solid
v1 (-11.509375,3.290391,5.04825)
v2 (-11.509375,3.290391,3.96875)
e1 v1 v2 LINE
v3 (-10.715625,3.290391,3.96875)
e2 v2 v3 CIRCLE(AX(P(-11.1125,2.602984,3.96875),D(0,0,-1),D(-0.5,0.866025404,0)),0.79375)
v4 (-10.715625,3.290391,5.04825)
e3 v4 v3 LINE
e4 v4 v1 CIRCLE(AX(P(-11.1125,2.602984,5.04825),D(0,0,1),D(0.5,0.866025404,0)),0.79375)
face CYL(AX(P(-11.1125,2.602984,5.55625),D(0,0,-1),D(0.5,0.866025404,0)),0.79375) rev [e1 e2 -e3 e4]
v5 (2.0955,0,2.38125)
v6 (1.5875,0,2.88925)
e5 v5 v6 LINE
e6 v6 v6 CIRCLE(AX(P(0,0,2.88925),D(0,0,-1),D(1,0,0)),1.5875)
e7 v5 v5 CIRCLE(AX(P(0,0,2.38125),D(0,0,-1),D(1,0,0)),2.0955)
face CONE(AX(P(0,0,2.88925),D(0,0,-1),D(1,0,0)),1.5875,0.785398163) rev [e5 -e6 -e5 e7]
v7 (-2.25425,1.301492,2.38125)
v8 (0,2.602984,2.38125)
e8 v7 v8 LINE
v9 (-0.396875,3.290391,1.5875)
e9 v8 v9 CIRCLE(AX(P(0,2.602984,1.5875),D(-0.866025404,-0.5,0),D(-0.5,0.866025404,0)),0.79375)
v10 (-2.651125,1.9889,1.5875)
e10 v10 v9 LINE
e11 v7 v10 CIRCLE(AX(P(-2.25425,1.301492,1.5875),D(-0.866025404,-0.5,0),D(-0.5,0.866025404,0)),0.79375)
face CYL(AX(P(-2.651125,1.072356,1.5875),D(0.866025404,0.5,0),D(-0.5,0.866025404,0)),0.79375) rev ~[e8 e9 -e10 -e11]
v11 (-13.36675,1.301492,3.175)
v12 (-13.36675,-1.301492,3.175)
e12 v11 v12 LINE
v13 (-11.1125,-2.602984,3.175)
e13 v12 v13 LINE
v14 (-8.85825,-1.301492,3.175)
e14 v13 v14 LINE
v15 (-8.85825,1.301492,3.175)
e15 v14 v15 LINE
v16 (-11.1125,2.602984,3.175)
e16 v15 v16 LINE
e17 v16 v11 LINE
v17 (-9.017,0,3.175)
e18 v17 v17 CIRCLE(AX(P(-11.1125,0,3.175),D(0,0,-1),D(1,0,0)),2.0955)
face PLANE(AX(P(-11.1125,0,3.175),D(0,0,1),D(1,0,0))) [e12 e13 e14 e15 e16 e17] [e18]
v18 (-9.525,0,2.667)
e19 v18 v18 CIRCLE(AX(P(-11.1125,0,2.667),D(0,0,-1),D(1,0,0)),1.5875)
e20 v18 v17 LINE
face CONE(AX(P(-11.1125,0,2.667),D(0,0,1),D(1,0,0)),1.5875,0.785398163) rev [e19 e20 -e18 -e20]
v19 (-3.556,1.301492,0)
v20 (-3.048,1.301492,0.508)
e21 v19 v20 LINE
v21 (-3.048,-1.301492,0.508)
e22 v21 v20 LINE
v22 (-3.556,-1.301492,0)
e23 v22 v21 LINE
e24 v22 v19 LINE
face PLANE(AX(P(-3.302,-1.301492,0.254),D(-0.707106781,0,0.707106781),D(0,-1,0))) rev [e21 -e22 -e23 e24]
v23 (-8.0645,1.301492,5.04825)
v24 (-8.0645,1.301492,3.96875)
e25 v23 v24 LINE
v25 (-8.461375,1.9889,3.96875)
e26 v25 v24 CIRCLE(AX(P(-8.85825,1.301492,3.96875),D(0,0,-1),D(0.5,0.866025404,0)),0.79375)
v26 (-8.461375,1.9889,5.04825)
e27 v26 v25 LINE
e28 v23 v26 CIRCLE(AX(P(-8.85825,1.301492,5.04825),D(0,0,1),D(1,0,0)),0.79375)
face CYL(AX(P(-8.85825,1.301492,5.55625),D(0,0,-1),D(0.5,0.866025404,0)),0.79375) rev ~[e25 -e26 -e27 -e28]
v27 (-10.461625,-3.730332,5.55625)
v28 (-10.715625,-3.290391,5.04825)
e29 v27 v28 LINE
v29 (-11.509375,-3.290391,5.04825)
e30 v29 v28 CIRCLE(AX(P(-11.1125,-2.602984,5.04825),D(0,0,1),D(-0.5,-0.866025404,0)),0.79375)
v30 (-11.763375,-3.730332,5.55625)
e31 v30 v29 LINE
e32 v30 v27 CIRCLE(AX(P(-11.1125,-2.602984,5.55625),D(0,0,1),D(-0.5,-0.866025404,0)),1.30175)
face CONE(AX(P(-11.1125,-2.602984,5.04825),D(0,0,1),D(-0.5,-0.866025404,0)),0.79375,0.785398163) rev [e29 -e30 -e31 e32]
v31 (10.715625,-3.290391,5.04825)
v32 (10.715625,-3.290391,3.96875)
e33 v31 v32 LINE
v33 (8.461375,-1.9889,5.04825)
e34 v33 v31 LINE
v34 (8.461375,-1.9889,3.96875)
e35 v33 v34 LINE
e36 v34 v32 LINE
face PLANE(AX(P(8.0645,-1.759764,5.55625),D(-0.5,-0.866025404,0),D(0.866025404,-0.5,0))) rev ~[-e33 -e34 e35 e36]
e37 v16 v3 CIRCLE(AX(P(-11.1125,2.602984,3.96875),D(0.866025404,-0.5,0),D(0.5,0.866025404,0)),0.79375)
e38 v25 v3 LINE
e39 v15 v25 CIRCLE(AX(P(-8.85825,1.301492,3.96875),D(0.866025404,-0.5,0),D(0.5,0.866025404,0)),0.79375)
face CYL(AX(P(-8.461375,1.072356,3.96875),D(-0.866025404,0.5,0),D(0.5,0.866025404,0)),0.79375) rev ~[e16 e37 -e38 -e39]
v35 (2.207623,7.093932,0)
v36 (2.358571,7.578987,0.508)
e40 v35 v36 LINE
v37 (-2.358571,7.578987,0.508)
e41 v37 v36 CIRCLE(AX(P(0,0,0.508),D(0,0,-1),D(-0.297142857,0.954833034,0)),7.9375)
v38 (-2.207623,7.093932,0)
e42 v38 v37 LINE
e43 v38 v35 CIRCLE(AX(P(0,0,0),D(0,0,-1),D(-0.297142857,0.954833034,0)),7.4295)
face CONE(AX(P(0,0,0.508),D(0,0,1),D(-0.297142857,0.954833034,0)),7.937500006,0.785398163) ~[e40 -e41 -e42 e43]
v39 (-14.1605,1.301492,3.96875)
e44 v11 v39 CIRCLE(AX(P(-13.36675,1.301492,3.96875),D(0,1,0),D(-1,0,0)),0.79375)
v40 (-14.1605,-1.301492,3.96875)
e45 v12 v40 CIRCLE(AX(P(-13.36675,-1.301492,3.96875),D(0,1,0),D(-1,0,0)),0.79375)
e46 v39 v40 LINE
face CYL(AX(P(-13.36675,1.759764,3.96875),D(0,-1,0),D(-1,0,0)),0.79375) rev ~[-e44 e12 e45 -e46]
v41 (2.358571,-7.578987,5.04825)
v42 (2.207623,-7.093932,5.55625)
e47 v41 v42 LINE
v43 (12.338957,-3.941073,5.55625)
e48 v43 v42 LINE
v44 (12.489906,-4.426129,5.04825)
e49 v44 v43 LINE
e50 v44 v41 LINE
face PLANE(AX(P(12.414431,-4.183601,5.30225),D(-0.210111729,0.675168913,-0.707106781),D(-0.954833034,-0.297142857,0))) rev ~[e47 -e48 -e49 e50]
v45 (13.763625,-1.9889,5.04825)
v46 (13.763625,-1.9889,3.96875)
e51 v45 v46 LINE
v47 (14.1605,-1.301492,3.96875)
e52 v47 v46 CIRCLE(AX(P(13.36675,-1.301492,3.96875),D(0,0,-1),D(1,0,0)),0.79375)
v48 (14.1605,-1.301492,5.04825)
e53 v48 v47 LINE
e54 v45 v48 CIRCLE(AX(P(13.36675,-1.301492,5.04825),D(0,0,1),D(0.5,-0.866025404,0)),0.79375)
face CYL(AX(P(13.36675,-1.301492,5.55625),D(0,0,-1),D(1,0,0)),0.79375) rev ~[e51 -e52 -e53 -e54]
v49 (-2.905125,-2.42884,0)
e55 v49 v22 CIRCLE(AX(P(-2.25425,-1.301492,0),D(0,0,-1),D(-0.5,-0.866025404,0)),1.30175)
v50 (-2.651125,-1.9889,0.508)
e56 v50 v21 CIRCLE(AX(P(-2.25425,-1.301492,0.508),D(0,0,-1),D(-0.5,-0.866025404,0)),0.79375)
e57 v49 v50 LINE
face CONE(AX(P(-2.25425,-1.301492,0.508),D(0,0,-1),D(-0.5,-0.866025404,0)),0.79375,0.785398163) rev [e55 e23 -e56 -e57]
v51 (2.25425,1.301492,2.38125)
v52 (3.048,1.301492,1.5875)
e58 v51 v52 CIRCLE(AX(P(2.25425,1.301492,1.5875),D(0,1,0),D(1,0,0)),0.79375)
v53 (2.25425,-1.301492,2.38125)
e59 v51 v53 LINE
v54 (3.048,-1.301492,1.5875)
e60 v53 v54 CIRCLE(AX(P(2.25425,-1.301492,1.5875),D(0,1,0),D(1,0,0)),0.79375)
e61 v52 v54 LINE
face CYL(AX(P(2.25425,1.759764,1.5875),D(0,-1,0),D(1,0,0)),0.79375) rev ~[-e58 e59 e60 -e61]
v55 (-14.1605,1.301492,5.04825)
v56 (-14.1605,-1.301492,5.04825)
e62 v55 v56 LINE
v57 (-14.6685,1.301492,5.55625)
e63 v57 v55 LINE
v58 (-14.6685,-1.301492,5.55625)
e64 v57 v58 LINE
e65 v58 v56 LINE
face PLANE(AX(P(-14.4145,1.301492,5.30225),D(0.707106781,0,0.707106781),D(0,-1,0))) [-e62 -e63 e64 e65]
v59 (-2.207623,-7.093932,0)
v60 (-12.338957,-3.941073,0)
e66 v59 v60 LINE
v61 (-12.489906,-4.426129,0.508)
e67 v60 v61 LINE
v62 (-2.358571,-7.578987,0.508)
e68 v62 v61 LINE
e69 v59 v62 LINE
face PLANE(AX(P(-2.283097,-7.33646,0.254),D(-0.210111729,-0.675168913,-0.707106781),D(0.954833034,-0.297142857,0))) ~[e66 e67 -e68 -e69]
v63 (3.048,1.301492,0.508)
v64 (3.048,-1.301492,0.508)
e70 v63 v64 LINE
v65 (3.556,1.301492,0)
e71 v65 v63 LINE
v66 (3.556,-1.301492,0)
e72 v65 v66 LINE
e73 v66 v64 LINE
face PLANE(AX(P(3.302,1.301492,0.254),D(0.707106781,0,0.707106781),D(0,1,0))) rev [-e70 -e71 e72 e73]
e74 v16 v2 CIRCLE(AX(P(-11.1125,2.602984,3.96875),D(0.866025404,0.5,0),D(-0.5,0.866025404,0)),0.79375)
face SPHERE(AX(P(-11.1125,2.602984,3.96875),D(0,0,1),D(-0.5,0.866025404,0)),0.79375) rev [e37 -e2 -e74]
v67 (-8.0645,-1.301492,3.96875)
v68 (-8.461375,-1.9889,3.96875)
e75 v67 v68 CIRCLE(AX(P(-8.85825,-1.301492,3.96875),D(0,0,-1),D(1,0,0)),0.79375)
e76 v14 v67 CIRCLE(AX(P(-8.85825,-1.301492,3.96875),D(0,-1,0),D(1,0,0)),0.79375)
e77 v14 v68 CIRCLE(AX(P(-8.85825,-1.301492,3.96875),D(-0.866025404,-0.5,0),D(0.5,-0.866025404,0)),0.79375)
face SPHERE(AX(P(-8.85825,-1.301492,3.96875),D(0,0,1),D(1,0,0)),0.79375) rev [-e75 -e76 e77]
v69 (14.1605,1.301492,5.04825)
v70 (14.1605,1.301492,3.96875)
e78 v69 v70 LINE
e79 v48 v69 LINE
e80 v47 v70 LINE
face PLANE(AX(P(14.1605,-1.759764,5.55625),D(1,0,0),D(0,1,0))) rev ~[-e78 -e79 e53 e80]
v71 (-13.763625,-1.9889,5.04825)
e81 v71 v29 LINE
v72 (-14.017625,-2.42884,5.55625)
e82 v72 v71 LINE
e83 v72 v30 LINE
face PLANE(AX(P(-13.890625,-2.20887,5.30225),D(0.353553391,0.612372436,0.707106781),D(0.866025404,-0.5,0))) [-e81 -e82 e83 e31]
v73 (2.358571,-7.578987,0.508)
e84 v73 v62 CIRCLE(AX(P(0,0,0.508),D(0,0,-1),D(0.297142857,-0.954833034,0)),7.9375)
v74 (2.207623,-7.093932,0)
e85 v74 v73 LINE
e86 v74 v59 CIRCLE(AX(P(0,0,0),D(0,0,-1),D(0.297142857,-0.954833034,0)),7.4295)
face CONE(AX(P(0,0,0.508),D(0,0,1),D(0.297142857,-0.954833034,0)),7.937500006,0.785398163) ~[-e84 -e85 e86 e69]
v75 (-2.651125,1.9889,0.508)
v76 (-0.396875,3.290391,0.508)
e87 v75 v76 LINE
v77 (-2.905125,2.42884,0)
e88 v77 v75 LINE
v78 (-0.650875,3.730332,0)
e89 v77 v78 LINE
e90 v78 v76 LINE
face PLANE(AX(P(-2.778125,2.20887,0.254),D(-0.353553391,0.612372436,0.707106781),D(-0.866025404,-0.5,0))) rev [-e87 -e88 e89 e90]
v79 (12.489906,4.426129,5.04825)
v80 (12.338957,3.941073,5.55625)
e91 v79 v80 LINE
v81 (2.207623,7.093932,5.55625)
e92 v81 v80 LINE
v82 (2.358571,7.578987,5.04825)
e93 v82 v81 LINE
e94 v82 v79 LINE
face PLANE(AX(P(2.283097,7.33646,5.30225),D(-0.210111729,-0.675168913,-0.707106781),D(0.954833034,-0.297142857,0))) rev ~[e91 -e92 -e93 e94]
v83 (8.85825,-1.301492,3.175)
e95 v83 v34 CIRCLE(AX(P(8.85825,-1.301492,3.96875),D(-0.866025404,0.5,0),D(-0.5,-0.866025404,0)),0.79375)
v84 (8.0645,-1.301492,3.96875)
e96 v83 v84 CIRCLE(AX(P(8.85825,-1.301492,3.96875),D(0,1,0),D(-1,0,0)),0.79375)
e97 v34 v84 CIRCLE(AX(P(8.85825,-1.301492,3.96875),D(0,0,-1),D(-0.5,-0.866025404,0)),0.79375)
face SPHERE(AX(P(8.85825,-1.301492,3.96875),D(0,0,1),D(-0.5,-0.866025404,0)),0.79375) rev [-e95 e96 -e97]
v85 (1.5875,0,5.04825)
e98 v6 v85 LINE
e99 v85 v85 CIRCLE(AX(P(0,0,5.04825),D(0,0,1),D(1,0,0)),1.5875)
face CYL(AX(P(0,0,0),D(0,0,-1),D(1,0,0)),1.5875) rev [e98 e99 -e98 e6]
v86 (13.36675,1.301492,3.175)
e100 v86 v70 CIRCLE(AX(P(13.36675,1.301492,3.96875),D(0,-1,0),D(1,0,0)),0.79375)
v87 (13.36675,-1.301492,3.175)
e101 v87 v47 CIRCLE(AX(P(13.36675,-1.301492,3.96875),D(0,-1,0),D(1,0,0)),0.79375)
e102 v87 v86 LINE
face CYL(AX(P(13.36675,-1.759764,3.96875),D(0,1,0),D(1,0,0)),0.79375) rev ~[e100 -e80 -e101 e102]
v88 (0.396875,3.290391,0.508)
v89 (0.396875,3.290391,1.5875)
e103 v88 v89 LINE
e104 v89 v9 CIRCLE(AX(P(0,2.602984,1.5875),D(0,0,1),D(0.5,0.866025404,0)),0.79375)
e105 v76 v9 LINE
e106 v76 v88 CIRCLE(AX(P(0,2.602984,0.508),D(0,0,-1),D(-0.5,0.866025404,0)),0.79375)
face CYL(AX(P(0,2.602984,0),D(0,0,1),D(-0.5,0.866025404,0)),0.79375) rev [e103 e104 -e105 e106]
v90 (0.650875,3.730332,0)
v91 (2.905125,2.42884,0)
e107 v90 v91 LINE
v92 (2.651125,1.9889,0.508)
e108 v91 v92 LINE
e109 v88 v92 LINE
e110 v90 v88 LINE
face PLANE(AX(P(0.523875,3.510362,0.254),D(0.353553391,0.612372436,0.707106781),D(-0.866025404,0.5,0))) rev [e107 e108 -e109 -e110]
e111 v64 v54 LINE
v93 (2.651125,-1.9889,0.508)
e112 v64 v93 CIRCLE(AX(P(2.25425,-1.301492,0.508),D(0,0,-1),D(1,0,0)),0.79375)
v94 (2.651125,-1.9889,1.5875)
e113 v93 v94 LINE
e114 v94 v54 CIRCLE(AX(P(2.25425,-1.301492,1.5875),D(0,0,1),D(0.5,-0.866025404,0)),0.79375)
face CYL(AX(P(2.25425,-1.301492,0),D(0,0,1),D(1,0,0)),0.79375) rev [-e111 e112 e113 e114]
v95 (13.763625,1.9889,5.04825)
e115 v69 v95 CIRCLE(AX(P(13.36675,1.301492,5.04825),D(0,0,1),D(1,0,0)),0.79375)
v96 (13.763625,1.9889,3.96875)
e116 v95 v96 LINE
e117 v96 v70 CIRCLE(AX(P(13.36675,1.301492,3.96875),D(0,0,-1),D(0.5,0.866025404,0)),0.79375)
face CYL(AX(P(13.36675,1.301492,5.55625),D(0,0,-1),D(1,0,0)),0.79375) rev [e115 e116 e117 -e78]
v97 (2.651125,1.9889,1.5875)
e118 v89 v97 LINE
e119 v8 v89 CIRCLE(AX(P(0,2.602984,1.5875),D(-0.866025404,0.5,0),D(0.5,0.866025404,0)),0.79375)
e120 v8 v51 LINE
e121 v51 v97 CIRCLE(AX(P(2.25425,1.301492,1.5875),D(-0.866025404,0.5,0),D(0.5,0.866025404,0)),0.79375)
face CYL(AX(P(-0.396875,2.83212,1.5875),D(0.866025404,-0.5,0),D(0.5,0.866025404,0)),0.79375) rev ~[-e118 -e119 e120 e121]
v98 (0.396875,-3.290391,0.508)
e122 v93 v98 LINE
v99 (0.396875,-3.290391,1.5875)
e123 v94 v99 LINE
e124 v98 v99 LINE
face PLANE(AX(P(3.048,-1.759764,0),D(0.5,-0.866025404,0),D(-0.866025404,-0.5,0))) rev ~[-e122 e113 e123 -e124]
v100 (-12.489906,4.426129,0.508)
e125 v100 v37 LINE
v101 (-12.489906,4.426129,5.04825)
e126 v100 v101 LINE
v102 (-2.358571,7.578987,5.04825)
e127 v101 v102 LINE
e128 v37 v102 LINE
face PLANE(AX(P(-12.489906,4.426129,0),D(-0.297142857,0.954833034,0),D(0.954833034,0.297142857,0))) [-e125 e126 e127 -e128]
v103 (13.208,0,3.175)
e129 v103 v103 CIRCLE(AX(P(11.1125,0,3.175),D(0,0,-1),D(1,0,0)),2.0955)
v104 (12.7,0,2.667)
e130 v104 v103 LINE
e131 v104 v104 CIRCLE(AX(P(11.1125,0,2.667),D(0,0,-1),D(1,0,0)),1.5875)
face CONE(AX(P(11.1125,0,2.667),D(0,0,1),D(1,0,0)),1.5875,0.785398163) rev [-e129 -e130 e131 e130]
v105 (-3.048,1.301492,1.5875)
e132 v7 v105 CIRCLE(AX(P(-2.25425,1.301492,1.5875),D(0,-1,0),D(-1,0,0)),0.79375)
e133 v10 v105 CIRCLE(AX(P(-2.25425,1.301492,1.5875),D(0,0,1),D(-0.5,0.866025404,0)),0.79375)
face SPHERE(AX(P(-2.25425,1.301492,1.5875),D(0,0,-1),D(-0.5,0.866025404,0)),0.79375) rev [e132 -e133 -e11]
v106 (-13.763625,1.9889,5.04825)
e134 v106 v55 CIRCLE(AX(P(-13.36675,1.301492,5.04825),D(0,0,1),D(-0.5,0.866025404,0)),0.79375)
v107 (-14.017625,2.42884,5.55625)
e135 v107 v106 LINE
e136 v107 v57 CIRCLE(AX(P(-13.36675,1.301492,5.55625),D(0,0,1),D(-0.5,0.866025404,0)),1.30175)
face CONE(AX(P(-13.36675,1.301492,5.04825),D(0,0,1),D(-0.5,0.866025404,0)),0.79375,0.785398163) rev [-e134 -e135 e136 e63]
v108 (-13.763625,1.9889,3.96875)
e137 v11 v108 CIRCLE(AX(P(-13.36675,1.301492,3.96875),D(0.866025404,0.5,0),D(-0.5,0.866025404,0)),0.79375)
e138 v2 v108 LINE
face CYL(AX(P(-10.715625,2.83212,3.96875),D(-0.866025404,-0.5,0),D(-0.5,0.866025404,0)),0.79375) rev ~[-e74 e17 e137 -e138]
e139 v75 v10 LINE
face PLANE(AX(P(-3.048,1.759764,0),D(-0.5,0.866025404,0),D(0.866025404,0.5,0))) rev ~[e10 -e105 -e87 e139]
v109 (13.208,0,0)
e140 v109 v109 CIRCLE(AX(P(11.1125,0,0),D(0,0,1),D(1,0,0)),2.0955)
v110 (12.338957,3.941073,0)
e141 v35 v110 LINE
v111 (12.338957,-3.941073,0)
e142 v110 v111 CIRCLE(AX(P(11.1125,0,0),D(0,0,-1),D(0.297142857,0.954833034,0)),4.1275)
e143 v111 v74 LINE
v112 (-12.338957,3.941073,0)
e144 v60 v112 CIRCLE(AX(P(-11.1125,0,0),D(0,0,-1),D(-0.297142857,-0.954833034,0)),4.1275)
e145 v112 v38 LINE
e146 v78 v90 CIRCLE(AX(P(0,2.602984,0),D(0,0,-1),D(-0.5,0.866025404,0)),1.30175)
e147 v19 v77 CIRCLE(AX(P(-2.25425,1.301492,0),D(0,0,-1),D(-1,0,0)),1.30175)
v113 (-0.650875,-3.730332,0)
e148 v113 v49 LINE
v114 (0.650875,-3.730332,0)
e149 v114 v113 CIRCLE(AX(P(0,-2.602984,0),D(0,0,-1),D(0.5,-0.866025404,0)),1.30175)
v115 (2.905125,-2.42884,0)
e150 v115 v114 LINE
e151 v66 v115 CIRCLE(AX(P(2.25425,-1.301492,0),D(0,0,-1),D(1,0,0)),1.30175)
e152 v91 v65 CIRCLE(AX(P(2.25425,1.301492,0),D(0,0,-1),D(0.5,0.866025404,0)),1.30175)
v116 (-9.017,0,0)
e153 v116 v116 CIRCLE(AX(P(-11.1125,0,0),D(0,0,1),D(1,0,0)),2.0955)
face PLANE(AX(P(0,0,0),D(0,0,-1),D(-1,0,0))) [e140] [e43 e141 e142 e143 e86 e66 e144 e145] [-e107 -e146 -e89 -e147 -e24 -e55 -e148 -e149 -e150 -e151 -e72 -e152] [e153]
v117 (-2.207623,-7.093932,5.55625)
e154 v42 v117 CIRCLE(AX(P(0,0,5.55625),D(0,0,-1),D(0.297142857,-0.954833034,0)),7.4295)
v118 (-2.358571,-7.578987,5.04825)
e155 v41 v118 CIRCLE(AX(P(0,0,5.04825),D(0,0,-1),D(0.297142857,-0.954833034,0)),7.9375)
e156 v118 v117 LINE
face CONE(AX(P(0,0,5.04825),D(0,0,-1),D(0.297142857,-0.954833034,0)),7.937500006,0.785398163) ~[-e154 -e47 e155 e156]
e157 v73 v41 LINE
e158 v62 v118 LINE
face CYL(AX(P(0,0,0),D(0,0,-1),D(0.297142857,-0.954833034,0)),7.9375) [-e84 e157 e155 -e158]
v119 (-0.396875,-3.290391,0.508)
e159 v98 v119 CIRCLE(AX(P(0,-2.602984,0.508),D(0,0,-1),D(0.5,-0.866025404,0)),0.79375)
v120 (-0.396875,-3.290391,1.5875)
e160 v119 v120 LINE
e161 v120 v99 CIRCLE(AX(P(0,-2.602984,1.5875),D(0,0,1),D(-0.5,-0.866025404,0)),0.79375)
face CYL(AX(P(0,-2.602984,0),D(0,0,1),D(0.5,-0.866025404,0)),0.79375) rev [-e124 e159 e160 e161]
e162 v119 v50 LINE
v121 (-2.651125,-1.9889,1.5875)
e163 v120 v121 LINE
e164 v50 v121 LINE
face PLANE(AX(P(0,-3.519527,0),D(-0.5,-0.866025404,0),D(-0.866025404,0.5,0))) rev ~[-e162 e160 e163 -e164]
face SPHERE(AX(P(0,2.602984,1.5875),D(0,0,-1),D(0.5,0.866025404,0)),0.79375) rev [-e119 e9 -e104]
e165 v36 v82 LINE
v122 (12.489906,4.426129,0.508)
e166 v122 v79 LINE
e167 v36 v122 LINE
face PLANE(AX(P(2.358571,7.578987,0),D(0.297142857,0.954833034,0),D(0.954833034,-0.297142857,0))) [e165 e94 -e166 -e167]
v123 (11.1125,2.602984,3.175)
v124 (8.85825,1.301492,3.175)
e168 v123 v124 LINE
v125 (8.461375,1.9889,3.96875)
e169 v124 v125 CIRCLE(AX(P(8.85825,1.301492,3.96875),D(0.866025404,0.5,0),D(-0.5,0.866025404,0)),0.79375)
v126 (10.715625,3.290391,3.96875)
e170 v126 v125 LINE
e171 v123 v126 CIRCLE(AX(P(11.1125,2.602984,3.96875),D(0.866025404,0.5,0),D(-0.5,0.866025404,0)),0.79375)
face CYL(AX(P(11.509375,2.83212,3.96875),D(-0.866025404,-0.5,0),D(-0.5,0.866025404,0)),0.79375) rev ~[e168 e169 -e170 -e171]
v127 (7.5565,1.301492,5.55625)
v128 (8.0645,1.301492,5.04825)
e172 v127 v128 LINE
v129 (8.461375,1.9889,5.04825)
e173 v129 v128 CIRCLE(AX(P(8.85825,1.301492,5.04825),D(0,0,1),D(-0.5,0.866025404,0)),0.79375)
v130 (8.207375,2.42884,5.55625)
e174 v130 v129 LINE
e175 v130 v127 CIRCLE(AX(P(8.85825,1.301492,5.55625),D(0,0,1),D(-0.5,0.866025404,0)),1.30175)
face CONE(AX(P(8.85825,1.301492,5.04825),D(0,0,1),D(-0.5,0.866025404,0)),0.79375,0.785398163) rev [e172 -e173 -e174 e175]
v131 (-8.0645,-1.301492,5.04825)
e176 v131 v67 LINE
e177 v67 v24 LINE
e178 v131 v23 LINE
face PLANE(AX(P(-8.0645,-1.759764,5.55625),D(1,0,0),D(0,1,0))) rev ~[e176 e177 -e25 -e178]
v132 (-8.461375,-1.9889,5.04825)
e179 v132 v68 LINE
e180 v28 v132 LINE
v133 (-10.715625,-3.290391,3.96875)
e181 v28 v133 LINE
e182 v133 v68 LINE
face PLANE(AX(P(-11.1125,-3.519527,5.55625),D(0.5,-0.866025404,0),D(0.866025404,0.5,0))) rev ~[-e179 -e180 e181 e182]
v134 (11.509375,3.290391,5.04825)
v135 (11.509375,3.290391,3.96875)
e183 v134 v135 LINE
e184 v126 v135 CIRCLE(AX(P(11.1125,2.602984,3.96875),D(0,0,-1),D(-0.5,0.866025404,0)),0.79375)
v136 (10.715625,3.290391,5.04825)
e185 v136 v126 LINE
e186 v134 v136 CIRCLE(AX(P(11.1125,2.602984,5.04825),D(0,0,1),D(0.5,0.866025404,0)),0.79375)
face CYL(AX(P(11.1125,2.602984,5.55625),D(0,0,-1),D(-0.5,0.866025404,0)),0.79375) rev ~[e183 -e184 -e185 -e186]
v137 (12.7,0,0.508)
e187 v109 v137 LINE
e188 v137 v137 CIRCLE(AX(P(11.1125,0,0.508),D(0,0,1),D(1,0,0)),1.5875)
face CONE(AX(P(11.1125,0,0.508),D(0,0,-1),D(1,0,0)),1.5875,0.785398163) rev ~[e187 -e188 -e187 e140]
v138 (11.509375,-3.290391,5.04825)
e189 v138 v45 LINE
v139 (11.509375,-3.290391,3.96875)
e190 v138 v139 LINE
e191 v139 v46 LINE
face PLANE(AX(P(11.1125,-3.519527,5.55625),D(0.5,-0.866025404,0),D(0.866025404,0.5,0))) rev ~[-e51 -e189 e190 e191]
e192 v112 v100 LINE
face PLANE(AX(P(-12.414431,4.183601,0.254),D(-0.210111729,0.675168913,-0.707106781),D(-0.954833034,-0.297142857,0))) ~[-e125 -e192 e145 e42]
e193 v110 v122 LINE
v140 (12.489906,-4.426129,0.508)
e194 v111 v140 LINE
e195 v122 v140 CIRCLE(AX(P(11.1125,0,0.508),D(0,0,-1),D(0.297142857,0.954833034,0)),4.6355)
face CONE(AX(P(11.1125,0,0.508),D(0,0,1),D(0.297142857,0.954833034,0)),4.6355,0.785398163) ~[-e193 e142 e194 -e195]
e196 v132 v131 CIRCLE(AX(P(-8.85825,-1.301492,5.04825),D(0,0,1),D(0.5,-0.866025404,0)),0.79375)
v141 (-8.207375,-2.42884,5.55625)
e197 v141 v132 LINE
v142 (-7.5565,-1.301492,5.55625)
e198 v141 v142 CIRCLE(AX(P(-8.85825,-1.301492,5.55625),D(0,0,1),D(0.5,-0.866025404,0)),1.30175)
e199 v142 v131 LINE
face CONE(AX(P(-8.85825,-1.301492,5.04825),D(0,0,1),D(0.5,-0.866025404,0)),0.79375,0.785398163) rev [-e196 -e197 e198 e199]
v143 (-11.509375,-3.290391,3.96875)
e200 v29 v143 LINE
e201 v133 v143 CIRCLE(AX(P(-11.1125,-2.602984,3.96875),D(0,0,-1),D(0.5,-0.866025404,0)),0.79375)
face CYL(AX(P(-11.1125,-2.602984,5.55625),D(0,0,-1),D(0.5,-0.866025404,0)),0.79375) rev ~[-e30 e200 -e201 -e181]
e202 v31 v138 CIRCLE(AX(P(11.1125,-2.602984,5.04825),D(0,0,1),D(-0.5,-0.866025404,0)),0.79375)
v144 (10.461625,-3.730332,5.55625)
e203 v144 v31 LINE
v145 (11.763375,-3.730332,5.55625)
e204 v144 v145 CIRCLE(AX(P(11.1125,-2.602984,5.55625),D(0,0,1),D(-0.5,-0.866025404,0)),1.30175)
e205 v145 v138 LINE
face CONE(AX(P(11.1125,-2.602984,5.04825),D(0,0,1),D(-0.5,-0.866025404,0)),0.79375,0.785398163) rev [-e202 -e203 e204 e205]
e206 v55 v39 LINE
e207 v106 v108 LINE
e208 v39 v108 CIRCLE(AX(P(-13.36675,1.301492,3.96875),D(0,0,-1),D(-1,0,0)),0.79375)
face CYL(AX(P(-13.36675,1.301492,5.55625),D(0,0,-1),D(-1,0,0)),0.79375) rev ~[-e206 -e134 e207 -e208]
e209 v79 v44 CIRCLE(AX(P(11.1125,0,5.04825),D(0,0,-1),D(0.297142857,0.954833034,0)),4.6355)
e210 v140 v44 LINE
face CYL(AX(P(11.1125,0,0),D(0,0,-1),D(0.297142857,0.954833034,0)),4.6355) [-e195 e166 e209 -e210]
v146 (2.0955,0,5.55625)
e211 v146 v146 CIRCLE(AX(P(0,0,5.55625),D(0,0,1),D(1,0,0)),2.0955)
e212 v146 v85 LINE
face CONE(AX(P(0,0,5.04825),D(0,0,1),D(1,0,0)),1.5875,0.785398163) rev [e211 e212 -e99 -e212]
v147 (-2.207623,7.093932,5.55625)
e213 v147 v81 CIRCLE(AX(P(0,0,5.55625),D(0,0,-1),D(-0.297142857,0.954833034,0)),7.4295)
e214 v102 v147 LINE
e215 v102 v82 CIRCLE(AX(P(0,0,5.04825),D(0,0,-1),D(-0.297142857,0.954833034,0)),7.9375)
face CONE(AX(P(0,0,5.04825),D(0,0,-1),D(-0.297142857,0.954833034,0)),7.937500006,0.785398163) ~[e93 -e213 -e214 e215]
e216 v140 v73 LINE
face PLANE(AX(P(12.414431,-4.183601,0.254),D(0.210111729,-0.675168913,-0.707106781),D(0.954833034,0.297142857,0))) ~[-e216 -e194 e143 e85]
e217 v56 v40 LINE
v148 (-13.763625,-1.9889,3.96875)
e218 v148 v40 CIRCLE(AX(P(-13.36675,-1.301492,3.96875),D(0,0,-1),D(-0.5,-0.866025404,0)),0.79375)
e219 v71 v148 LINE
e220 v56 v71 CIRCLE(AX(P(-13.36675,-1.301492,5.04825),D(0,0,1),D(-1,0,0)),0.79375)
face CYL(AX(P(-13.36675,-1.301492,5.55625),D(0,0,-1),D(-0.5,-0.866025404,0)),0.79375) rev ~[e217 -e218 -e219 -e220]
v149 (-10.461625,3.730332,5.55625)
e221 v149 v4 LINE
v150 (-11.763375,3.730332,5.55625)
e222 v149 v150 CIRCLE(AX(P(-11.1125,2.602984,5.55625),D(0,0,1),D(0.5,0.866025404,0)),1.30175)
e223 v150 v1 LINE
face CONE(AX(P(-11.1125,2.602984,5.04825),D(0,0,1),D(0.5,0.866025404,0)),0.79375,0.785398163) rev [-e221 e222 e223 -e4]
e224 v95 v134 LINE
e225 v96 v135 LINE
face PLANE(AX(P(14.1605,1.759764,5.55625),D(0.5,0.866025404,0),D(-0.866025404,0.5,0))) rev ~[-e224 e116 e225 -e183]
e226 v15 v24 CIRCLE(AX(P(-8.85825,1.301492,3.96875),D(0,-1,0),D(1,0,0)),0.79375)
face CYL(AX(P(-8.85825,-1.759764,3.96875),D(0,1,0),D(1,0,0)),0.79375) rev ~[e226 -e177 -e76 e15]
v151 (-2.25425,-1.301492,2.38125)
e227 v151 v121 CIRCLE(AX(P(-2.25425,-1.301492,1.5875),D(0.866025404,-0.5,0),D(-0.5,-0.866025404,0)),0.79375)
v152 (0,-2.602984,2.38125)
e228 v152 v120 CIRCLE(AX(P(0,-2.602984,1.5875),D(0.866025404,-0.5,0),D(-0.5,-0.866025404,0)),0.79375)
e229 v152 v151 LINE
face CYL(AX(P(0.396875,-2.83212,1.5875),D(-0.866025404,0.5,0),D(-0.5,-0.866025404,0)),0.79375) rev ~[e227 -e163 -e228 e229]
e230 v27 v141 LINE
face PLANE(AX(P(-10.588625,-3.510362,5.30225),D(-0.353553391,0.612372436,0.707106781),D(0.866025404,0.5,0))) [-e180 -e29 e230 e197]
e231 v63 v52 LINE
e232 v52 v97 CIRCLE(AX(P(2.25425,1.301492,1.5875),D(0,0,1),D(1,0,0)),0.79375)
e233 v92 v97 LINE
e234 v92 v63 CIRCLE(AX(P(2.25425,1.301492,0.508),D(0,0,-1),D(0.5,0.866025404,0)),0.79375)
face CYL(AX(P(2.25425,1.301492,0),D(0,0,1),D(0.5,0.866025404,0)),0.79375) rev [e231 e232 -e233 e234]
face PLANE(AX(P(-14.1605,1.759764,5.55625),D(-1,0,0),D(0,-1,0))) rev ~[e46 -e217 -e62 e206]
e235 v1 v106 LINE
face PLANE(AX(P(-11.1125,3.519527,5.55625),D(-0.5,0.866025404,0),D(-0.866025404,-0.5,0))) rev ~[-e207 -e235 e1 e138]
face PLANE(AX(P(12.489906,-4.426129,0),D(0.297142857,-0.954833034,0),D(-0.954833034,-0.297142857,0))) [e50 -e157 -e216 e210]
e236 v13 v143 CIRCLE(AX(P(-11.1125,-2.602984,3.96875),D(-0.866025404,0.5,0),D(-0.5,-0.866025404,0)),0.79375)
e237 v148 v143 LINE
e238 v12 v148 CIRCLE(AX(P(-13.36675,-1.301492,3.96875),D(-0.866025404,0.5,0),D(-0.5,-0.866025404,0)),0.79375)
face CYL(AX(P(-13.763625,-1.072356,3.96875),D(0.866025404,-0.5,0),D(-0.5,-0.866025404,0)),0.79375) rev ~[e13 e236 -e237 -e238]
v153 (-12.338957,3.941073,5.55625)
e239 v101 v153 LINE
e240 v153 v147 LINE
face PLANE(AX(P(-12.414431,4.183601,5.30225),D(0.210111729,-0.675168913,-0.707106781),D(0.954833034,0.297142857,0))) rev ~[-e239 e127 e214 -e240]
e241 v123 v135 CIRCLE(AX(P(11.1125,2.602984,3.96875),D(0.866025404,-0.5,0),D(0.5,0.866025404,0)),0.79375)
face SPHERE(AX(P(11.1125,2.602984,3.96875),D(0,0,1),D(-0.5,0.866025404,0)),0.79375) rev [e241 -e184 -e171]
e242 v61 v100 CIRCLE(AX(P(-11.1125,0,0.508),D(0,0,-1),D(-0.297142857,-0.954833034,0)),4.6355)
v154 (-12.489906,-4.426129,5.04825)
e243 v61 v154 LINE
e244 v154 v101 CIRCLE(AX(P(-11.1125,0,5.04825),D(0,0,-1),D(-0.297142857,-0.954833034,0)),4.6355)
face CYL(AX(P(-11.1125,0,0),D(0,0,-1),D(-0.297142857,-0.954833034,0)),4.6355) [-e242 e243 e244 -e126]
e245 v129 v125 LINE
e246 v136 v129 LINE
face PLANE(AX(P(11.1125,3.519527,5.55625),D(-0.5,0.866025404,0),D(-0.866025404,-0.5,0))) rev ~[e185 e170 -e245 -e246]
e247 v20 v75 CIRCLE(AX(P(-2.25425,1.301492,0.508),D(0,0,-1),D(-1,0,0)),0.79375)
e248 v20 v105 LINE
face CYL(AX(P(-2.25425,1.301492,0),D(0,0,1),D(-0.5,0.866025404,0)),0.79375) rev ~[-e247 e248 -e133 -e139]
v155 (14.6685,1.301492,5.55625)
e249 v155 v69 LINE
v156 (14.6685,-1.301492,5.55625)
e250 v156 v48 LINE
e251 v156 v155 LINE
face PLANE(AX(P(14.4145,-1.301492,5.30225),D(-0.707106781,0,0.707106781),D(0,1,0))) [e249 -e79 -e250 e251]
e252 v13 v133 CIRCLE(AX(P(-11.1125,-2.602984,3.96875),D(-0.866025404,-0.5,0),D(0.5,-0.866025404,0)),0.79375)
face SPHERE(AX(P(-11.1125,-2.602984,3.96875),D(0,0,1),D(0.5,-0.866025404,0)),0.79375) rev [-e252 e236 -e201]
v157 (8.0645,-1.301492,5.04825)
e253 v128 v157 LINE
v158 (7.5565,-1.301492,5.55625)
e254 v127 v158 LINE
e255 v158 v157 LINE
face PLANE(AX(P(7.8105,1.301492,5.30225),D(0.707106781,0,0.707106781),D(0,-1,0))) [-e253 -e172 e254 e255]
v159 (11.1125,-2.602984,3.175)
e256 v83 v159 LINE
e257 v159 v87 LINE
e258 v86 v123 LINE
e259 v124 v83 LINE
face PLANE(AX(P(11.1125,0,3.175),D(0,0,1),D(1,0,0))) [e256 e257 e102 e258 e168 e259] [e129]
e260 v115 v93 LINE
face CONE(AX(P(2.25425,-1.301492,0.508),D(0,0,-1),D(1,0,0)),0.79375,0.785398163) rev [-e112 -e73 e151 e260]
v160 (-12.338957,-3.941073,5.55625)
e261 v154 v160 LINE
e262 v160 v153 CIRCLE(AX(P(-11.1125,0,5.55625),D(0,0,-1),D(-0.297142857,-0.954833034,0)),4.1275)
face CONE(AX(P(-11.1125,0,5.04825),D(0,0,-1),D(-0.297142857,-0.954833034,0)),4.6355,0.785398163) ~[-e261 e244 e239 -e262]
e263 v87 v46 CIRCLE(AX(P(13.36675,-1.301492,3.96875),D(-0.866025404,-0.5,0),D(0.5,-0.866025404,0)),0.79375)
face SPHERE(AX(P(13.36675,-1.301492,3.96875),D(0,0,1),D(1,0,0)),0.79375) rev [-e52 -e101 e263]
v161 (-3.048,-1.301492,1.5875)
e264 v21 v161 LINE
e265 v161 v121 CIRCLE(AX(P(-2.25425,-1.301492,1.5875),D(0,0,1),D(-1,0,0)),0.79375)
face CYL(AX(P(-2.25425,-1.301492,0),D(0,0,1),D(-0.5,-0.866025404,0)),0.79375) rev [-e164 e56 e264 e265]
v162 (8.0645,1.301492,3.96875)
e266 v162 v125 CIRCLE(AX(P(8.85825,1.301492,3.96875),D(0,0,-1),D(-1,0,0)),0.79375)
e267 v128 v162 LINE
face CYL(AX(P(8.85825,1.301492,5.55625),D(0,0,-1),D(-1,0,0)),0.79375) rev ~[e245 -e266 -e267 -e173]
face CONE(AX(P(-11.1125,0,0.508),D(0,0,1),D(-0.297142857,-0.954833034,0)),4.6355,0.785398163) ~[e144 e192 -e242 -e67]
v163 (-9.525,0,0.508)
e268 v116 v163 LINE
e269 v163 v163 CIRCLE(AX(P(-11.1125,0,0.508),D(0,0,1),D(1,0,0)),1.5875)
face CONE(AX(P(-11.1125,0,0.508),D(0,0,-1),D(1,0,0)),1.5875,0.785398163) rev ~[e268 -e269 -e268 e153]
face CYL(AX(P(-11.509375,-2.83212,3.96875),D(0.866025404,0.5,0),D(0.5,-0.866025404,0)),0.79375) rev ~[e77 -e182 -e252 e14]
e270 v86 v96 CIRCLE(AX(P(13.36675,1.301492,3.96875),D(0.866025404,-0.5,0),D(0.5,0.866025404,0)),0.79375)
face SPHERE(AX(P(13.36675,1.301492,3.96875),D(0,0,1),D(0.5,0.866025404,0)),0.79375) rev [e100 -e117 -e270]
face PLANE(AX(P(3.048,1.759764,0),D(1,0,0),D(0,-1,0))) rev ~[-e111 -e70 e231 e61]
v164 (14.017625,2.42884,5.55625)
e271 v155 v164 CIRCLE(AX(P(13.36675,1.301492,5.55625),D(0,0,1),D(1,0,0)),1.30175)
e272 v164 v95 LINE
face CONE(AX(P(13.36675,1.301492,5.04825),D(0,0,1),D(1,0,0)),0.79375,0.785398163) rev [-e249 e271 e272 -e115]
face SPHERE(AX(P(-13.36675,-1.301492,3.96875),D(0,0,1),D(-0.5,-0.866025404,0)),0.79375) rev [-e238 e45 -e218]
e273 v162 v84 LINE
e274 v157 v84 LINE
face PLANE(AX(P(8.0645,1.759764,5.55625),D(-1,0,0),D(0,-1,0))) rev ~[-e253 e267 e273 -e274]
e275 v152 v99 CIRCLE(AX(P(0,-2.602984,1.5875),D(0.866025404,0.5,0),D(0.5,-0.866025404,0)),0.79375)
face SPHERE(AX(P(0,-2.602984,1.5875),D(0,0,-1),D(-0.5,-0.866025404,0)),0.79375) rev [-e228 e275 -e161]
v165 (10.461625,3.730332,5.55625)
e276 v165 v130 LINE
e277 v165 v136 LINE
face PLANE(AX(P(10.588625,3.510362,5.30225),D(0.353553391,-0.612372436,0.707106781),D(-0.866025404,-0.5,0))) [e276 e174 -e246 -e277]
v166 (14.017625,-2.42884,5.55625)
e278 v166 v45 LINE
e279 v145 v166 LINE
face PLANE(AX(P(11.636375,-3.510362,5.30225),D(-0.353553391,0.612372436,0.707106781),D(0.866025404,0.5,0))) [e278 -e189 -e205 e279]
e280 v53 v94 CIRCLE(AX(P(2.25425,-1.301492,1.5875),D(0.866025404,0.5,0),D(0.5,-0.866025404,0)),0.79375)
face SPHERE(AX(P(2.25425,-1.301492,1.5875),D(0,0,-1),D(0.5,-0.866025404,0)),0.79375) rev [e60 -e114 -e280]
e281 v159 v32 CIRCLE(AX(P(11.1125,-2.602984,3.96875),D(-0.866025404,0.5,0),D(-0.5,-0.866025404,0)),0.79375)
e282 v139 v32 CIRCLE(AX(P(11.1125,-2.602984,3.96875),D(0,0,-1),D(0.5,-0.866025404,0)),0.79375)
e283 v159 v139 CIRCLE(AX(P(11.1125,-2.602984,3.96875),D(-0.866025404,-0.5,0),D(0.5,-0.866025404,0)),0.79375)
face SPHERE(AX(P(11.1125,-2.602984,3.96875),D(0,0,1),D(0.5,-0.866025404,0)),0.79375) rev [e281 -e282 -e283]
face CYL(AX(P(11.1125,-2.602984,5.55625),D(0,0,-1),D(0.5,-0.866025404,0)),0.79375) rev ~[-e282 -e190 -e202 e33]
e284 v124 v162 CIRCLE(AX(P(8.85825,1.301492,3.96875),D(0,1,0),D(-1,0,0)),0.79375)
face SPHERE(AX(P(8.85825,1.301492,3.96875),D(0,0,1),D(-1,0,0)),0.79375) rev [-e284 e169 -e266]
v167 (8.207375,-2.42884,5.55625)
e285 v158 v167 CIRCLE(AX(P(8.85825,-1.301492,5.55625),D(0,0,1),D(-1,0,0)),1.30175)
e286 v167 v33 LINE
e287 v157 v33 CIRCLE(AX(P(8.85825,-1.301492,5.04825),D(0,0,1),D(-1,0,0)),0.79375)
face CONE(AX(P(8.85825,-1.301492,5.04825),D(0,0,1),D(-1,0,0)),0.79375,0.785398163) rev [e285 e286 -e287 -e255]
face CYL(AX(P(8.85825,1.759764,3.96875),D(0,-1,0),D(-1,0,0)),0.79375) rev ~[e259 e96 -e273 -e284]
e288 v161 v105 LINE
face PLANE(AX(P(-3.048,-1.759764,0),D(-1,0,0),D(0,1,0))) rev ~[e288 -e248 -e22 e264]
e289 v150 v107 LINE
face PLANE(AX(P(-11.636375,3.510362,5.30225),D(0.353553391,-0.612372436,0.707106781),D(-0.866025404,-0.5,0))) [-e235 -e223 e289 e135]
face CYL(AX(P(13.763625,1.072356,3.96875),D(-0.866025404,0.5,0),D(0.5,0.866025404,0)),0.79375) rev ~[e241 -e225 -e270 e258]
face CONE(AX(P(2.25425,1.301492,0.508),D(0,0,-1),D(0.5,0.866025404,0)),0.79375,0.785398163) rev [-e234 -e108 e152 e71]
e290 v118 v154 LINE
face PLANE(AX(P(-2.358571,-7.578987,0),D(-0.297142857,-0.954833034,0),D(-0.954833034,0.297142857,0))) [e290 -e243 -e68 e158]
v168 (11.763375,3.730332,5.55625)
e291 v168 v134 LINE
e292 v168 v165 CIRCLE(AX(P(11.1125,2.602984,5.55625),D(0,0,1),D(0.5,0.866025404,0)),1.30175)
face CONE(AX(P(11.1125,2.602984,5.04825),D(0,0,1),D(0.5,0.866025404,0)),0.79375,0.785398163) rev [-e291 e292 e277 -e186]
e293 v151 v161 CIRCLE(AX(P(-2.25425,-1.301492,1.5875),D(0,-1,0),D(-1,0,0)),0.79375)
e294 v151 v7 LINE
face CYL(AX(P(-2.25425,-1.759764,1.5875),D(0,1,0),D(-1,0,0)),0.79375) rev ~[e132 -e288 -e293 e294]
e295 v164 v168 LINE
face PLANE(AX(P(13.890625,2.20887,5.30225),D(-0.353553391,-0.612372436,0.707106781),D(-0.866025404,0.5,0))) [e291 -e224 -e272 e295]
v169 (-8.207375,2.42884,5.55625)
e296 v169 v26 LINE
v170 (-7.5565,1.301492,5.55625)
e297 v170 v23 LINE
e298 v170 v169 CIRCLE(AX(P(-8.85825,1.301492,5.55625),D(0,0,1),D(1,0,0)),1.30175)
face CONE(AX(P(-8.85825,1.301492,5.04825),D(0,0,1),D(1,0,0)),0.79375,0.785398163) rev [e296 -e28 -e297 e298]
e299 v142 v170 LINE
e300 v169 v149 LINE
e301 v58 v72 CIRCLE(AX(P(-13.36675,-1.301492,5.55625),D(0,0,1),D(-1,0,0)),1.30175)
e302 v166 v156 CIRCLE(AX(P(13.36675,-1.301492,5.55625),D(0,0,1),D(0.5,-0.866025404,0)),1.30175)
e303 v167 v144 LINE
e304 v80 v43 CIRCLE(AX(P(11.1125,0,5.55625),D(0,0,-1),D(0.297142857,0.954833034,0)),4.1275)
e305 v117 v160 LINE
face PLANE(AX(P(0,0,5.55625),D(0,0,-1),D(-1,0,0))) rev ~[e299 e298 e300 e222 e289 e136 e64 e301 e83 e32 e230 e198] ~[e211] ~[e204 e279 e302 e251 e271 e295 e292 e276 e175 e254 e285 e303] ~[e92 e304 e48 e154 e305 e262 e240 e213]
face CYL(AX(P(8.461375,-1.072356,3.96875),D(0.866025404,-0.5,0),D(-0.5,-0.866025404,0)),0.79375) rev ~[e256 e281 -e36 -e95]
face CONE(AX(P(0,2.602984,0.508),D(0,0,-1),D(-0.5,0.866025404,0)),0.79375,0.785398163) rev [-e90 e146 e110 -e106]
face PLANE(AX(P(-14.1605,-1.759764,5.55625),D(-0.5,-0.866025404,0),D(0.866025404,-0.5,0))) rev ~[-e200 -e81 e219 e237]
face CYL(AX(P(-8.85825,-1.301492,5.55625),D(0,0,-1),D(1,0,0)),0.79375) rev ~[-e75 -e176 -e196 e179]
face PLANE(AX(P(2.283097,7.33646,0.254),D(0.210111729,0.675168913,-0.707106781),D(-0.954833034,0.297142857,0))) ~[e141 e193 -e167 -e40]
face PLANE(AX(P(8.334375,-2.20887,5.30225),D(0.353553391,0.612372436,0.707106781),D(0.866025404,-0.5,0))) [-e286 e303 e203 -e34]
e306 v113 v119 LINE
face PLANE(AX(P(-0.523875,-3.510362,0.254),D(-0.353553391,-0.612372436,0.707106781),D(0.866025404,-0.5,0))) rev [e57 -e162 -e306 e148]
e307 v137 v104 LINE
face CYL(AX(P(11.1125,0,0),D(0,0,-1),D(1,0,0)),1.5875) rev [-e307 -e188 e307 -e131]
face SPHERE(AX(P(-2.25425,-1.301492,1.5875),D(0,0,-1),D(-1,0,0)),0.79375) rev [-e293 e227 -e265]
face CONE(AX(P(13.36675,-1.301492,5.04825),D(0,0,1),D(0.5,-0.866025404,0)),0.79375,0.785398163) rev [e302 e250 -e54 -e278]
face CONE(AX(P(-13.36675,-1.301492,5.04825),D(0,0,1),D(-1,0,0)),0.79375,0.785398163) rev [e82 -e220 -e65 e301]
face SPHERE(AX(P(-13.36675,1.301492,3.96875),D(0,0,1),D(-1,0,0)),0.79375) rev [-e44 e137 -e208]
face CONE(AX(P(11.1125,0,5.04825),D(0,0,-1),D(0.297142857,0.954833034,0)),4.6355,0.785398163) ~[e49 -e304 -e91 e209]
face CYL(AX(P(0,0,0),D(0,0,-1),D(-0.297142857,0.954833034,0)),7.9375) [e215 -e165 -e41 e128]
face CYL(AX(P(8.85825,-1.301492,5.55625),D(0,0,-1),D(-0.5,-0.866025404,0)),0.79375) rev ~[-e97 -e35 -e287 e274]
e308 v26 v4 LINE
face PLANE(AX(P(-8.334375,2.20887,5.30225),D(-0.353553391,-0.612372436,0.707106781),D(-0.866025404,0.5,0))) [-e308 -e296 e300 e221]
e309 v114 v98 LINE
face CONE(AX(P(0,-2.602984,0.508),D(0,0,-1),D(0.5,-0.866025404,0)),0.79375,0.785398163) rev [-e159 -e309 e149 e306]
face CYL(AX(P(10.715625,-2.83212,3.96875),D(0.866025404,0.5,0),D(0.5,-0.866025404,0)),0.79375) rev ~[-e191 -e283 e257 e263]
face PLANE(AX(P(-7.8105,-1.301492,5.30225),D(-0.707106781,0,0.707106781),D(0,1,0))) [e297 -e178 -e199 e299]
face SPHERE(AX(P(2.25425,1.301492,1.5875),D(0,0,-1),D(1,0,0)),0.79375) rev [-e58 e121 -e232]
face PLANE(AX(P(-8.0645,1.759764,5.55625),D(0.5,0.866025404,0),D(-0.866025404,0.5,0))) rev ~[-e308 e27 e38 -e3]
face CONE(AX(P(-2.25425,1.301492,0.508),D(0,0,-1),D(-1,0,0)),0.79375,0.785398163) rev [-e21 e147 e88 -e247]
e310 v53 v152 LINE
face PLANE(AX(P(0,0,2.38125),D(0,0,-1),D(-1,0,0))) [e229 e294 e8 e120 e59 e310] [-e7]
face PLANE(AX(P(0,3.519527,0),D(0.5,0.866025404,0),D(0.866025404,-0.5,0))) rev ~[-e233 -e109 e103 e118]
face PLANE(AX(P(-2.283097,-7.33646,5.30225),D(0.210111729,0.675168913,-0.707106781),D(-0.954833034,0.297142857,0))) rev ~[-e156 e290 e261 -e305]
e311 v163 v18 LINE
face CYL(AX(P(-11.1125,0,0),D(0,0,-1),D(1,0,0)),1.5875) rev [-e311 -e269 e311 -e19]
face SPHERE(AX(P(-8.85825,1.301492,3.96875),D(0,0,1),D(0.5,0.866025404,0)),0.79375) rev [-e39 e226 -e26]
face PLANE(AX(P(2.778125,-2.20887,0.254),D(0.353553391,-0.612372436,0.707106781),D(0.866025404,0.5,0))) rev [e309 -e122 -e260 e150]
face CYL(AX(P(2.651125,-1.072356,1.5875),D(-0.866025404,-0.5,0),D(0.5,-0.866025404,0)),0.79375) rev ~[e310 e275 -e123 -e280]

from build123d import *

# Parameters (mm, degrees)
SKETCH10_R          = 1.5875
BOSS_EXTRUDE2_DEPTH = 5.55625
CUT_EXTRUDE5_DEPTH  = 2.38125
CUT_EXTRUDE6_DEPTH  = 2.38125
FILLET2_R           = 0.79375
CHAMFER2_SIZE       = 0.508


with BuildPart() as part:
    # Sketch10 → Boss-Extrude2 (new body)
    with BuildSketch(Plane.XY):
        with BuildLine():
            Line((-12.489905714, 4.426128528), (-2.358571429, 7.578987206))
            ThreePointArc((-2.358571429, 7.578987206), (0, 7.9375), (2.358571429, 7.578987206))
            Line((2.358571429, 7.578987206), (12.489905714, 4.426128528))
            ThreePointArc((12.489905714, 4.426128528), (15.748, 0), (12.489905714, -4.426128528))
            Line((12.489905714, -4.426128528), (2.358571429, -7.578987206))
            ThreePointArc((2.358571429, -7.578987206), (0, -7.9375), (-2.358571429, -7.578987206))
            Line((-2.358571429, -7.578987206), (-12.489905714, -4.426128528))
            ThreePointArc((-12.489905714, -4.426128528), (-15.748, 0), (-12.489905714, 4.426128528))
        make_face()
        Circle(SKETCH10_R, mode=Mode.SUBTRACT)
        with Locations((-11.1125, 0)):
            Circle(SKETCH10_R, mode=Mode.SUBTRACT)
        with Locations((11.1125, 0)):
            Circle(SKETCH10_R, mode=Mode.SUBTRACT)
    extrude(amount=BOSS_EXTRUDE2_DEPTH)

    # Sketch11 → Cut-Extrude5 (cut)
    with BuildSketch(Plane.XY.offset(5.55625)):
        Polygon((-11.1125, 3.519527241), (-14.1605, 1.75976362), (-14.1605, -1.75976362), (-11.1125, -3.519527241), (-8.0645, -1.75976362), (-8.0645, 1.75976362), align=None)
        Polygon((14.1605, 1.75976362), (11.1125, 3.519527241), (8.0645, 1.75976362), (8.0645, -1.75976362), (11.1125, -3.519527241), (14.1605, -1.75976362), align=None)
    extrude(amount=-CUT_EXTRUDE5_DEPTH, mode=Mode.SUBTRACT)

    # Sketch12 → Cut-Extrude6 (cut)
    with BuildSketch(Plane(origin=(0, 0, 0), x_dir=(-1, 0, 0), z_dir=(0, 0, -1))):
        Polygon((3.048, 1.75976362), (0, 3.519527241), (-3.048, 1.75976362), (-3.048, -1.75976362), (0, -3.519527241), (3.048, -1.75976362), align=None)
    extrude(amount=-CUT_EXTRUDE6_DEPTH, mode=Mode.SUBTRACT)

    # Fillet2
    fillet2_edges = [part.edges().sort_by_distance(p)[0] for p in [
        (-9.5885, 2.639645431, 3.175),
        (-11.1125, 3.519527241, 4.365625),
        (-8.0645, 0, 3.175),
        (-8.0645, 1.75976362, 4.365625),
        (-9.5885, -2.639645431, 3.175),
        (-8.0645, -1.75976362, 4.365625),
        (-12.6365, -2.639645431, 3.175),
        (-11.1125, -3.519527241, 4.365625),
        (-14.1605, 0, 3.175),
        (-14.1605, -1.75976362, 4.365625),
        (-12.6365, 2.639645431, 3.175),
        (-14.1605, 1.75976362, 4.365625),
        (14.1605, 0, 3.175),
        (14.1605, 1.75976362, 4.365625),
        (12.6365, -2.639645431, 3.175),
        (14.1605, -1.75976362, 4.365625),
        (9.5885, -2.639645431, 3.175),
        (11.1125, -3.519527241, 4.365625),
        (8.0645, 0, 3.175),
        (8.0645, -1.75976362, 4.365625),
        (9.5885, 2.639645431, 3.175),
        (8.0645, 1.75976362, 4.365625),
        (12.6365, 2.639645431, 3.175),
        (11.1125, 3.519527241, 4.365625),
        (-3.048, 0, 2.38125),
        (-3.048, 1.75976362, 1.190625),
        (-1.524, -2.639645431, 2.38125),
        (-3.048, -1.75976362, 1.190625),
        (1.524, -2.639645431, 2.38125),
        (0, -3.519527241, 1.190625),
        (3.048, 0, 2.38125),
        (3.048, -1.75976362, 1.190625),
        (1.524, 2.639645431, 2.38125),
        (3.048, 1.75976362, 1.190625),
        (-1.524, 2.639645431, 2.38125),
        (0, 3.519527241, 1.190625),
    ]]
    fillet(fillet2_edges, radius=FILLET2_R)

    # Chamfer2
    chamfer2_edges = [part.edges().sort_by_distance(p)[0] for p in [
        (7.424238571, -6.002557867, 0),
        (0, -7.9375, 0),
        (-1.524, 2.639645431, 0),
        (1.524, 2.639645431, 0),
        (-7.424238571, -6.002557867, 0),
        (3.048, 0, 0),
        (1.524, -2.639645431, 0),
        (-15.748, 0, 0),
        (-1.524, -2.639645431, 0),
        (-3.048, 0, 0),
        (14.1605, 0, 5.55625),
        (12.6365, 2.639645431, 5.55625),
        (9.5885, 2.639645431, 5.55625),
        (8.0645, 0, 5.55625),
        (0, -7.9375, 5.55625),
        (9.5885, -2.639645431, 5.55625),
        (12.6365, -2.639645431, 5.55625),
        (-9.5885, 2.639645431, 5.55625),
        (-12.6365, 2.639645431, 5.55625),
        (-14.1605, 0, 5.55625),
        (-12.6365, -2.639645431, 5.55625),
        (-9.5885, -2.639645431, 5.55625),
        (-8.0645, 0, 5.55625),
        (-2.941657664, 1.698366844, 0),
        (0, 3.396733689, 0),
        (2.941657664, 1.698366844, 0),
        (2.941657664, -1.698366844, 0),
        (0, -3.396733689, 0),
        (-2.941657664, -1.698366844, 0),
        (14.054157664, 1.698366844, 5.55625),
        (11.1125, 3.396733689, 5.55625),
        (8.170842336, 1.698366844, 5.55625),
        (8.170842336, -1.698366844, 5.55625),
        (11.1125, -3.396733689, 5.55625),
        (14.054157664, -1.698366844, 5.55625),
        (-11.1125, 3.396733689, 5.55625),
        (-14.054157664, 1.698366844, 5.55625),
        (-11.1125, -3.396733689, 5.55625),
        (-8.170842336, -1.698366844, 5.55625),
        (-8.170842336, 1.698366844, 5.55625),
        (-14.054157664, -1.698366844, 5.55625),
        (7.424238571, -6.002557867, 5.55625),
        (15.748, 0, 5.55625),
        (-1.5875, 0, 5.55625),
        (7.424238571, 6.002557867, 5.55625),
        (-12.7, 0, 0),
        (0, 7.9375, 5.55625),
        (9.525, 0, 0),
        (-7.424238571, 6.002557867, 5.55625),
        (-12.7, 0, 3.175),
        (-15.748, 0, 5.55625),
        (9.525, 0, 3.175),
        (-1.5875, 0, 2.38125),
        (-7.424238571, 6.002557867, 0),
        (-7.424238571, -6.002557867, 5.55625),
        (0, 7.9375, 0),
        (7.424238571, 6.002557867, 0),
        (15.748, 0, 0),
    ]]
    chamfer(chamfer2_edges, length=CHAMFER2_SIZE)


solid = part.part
